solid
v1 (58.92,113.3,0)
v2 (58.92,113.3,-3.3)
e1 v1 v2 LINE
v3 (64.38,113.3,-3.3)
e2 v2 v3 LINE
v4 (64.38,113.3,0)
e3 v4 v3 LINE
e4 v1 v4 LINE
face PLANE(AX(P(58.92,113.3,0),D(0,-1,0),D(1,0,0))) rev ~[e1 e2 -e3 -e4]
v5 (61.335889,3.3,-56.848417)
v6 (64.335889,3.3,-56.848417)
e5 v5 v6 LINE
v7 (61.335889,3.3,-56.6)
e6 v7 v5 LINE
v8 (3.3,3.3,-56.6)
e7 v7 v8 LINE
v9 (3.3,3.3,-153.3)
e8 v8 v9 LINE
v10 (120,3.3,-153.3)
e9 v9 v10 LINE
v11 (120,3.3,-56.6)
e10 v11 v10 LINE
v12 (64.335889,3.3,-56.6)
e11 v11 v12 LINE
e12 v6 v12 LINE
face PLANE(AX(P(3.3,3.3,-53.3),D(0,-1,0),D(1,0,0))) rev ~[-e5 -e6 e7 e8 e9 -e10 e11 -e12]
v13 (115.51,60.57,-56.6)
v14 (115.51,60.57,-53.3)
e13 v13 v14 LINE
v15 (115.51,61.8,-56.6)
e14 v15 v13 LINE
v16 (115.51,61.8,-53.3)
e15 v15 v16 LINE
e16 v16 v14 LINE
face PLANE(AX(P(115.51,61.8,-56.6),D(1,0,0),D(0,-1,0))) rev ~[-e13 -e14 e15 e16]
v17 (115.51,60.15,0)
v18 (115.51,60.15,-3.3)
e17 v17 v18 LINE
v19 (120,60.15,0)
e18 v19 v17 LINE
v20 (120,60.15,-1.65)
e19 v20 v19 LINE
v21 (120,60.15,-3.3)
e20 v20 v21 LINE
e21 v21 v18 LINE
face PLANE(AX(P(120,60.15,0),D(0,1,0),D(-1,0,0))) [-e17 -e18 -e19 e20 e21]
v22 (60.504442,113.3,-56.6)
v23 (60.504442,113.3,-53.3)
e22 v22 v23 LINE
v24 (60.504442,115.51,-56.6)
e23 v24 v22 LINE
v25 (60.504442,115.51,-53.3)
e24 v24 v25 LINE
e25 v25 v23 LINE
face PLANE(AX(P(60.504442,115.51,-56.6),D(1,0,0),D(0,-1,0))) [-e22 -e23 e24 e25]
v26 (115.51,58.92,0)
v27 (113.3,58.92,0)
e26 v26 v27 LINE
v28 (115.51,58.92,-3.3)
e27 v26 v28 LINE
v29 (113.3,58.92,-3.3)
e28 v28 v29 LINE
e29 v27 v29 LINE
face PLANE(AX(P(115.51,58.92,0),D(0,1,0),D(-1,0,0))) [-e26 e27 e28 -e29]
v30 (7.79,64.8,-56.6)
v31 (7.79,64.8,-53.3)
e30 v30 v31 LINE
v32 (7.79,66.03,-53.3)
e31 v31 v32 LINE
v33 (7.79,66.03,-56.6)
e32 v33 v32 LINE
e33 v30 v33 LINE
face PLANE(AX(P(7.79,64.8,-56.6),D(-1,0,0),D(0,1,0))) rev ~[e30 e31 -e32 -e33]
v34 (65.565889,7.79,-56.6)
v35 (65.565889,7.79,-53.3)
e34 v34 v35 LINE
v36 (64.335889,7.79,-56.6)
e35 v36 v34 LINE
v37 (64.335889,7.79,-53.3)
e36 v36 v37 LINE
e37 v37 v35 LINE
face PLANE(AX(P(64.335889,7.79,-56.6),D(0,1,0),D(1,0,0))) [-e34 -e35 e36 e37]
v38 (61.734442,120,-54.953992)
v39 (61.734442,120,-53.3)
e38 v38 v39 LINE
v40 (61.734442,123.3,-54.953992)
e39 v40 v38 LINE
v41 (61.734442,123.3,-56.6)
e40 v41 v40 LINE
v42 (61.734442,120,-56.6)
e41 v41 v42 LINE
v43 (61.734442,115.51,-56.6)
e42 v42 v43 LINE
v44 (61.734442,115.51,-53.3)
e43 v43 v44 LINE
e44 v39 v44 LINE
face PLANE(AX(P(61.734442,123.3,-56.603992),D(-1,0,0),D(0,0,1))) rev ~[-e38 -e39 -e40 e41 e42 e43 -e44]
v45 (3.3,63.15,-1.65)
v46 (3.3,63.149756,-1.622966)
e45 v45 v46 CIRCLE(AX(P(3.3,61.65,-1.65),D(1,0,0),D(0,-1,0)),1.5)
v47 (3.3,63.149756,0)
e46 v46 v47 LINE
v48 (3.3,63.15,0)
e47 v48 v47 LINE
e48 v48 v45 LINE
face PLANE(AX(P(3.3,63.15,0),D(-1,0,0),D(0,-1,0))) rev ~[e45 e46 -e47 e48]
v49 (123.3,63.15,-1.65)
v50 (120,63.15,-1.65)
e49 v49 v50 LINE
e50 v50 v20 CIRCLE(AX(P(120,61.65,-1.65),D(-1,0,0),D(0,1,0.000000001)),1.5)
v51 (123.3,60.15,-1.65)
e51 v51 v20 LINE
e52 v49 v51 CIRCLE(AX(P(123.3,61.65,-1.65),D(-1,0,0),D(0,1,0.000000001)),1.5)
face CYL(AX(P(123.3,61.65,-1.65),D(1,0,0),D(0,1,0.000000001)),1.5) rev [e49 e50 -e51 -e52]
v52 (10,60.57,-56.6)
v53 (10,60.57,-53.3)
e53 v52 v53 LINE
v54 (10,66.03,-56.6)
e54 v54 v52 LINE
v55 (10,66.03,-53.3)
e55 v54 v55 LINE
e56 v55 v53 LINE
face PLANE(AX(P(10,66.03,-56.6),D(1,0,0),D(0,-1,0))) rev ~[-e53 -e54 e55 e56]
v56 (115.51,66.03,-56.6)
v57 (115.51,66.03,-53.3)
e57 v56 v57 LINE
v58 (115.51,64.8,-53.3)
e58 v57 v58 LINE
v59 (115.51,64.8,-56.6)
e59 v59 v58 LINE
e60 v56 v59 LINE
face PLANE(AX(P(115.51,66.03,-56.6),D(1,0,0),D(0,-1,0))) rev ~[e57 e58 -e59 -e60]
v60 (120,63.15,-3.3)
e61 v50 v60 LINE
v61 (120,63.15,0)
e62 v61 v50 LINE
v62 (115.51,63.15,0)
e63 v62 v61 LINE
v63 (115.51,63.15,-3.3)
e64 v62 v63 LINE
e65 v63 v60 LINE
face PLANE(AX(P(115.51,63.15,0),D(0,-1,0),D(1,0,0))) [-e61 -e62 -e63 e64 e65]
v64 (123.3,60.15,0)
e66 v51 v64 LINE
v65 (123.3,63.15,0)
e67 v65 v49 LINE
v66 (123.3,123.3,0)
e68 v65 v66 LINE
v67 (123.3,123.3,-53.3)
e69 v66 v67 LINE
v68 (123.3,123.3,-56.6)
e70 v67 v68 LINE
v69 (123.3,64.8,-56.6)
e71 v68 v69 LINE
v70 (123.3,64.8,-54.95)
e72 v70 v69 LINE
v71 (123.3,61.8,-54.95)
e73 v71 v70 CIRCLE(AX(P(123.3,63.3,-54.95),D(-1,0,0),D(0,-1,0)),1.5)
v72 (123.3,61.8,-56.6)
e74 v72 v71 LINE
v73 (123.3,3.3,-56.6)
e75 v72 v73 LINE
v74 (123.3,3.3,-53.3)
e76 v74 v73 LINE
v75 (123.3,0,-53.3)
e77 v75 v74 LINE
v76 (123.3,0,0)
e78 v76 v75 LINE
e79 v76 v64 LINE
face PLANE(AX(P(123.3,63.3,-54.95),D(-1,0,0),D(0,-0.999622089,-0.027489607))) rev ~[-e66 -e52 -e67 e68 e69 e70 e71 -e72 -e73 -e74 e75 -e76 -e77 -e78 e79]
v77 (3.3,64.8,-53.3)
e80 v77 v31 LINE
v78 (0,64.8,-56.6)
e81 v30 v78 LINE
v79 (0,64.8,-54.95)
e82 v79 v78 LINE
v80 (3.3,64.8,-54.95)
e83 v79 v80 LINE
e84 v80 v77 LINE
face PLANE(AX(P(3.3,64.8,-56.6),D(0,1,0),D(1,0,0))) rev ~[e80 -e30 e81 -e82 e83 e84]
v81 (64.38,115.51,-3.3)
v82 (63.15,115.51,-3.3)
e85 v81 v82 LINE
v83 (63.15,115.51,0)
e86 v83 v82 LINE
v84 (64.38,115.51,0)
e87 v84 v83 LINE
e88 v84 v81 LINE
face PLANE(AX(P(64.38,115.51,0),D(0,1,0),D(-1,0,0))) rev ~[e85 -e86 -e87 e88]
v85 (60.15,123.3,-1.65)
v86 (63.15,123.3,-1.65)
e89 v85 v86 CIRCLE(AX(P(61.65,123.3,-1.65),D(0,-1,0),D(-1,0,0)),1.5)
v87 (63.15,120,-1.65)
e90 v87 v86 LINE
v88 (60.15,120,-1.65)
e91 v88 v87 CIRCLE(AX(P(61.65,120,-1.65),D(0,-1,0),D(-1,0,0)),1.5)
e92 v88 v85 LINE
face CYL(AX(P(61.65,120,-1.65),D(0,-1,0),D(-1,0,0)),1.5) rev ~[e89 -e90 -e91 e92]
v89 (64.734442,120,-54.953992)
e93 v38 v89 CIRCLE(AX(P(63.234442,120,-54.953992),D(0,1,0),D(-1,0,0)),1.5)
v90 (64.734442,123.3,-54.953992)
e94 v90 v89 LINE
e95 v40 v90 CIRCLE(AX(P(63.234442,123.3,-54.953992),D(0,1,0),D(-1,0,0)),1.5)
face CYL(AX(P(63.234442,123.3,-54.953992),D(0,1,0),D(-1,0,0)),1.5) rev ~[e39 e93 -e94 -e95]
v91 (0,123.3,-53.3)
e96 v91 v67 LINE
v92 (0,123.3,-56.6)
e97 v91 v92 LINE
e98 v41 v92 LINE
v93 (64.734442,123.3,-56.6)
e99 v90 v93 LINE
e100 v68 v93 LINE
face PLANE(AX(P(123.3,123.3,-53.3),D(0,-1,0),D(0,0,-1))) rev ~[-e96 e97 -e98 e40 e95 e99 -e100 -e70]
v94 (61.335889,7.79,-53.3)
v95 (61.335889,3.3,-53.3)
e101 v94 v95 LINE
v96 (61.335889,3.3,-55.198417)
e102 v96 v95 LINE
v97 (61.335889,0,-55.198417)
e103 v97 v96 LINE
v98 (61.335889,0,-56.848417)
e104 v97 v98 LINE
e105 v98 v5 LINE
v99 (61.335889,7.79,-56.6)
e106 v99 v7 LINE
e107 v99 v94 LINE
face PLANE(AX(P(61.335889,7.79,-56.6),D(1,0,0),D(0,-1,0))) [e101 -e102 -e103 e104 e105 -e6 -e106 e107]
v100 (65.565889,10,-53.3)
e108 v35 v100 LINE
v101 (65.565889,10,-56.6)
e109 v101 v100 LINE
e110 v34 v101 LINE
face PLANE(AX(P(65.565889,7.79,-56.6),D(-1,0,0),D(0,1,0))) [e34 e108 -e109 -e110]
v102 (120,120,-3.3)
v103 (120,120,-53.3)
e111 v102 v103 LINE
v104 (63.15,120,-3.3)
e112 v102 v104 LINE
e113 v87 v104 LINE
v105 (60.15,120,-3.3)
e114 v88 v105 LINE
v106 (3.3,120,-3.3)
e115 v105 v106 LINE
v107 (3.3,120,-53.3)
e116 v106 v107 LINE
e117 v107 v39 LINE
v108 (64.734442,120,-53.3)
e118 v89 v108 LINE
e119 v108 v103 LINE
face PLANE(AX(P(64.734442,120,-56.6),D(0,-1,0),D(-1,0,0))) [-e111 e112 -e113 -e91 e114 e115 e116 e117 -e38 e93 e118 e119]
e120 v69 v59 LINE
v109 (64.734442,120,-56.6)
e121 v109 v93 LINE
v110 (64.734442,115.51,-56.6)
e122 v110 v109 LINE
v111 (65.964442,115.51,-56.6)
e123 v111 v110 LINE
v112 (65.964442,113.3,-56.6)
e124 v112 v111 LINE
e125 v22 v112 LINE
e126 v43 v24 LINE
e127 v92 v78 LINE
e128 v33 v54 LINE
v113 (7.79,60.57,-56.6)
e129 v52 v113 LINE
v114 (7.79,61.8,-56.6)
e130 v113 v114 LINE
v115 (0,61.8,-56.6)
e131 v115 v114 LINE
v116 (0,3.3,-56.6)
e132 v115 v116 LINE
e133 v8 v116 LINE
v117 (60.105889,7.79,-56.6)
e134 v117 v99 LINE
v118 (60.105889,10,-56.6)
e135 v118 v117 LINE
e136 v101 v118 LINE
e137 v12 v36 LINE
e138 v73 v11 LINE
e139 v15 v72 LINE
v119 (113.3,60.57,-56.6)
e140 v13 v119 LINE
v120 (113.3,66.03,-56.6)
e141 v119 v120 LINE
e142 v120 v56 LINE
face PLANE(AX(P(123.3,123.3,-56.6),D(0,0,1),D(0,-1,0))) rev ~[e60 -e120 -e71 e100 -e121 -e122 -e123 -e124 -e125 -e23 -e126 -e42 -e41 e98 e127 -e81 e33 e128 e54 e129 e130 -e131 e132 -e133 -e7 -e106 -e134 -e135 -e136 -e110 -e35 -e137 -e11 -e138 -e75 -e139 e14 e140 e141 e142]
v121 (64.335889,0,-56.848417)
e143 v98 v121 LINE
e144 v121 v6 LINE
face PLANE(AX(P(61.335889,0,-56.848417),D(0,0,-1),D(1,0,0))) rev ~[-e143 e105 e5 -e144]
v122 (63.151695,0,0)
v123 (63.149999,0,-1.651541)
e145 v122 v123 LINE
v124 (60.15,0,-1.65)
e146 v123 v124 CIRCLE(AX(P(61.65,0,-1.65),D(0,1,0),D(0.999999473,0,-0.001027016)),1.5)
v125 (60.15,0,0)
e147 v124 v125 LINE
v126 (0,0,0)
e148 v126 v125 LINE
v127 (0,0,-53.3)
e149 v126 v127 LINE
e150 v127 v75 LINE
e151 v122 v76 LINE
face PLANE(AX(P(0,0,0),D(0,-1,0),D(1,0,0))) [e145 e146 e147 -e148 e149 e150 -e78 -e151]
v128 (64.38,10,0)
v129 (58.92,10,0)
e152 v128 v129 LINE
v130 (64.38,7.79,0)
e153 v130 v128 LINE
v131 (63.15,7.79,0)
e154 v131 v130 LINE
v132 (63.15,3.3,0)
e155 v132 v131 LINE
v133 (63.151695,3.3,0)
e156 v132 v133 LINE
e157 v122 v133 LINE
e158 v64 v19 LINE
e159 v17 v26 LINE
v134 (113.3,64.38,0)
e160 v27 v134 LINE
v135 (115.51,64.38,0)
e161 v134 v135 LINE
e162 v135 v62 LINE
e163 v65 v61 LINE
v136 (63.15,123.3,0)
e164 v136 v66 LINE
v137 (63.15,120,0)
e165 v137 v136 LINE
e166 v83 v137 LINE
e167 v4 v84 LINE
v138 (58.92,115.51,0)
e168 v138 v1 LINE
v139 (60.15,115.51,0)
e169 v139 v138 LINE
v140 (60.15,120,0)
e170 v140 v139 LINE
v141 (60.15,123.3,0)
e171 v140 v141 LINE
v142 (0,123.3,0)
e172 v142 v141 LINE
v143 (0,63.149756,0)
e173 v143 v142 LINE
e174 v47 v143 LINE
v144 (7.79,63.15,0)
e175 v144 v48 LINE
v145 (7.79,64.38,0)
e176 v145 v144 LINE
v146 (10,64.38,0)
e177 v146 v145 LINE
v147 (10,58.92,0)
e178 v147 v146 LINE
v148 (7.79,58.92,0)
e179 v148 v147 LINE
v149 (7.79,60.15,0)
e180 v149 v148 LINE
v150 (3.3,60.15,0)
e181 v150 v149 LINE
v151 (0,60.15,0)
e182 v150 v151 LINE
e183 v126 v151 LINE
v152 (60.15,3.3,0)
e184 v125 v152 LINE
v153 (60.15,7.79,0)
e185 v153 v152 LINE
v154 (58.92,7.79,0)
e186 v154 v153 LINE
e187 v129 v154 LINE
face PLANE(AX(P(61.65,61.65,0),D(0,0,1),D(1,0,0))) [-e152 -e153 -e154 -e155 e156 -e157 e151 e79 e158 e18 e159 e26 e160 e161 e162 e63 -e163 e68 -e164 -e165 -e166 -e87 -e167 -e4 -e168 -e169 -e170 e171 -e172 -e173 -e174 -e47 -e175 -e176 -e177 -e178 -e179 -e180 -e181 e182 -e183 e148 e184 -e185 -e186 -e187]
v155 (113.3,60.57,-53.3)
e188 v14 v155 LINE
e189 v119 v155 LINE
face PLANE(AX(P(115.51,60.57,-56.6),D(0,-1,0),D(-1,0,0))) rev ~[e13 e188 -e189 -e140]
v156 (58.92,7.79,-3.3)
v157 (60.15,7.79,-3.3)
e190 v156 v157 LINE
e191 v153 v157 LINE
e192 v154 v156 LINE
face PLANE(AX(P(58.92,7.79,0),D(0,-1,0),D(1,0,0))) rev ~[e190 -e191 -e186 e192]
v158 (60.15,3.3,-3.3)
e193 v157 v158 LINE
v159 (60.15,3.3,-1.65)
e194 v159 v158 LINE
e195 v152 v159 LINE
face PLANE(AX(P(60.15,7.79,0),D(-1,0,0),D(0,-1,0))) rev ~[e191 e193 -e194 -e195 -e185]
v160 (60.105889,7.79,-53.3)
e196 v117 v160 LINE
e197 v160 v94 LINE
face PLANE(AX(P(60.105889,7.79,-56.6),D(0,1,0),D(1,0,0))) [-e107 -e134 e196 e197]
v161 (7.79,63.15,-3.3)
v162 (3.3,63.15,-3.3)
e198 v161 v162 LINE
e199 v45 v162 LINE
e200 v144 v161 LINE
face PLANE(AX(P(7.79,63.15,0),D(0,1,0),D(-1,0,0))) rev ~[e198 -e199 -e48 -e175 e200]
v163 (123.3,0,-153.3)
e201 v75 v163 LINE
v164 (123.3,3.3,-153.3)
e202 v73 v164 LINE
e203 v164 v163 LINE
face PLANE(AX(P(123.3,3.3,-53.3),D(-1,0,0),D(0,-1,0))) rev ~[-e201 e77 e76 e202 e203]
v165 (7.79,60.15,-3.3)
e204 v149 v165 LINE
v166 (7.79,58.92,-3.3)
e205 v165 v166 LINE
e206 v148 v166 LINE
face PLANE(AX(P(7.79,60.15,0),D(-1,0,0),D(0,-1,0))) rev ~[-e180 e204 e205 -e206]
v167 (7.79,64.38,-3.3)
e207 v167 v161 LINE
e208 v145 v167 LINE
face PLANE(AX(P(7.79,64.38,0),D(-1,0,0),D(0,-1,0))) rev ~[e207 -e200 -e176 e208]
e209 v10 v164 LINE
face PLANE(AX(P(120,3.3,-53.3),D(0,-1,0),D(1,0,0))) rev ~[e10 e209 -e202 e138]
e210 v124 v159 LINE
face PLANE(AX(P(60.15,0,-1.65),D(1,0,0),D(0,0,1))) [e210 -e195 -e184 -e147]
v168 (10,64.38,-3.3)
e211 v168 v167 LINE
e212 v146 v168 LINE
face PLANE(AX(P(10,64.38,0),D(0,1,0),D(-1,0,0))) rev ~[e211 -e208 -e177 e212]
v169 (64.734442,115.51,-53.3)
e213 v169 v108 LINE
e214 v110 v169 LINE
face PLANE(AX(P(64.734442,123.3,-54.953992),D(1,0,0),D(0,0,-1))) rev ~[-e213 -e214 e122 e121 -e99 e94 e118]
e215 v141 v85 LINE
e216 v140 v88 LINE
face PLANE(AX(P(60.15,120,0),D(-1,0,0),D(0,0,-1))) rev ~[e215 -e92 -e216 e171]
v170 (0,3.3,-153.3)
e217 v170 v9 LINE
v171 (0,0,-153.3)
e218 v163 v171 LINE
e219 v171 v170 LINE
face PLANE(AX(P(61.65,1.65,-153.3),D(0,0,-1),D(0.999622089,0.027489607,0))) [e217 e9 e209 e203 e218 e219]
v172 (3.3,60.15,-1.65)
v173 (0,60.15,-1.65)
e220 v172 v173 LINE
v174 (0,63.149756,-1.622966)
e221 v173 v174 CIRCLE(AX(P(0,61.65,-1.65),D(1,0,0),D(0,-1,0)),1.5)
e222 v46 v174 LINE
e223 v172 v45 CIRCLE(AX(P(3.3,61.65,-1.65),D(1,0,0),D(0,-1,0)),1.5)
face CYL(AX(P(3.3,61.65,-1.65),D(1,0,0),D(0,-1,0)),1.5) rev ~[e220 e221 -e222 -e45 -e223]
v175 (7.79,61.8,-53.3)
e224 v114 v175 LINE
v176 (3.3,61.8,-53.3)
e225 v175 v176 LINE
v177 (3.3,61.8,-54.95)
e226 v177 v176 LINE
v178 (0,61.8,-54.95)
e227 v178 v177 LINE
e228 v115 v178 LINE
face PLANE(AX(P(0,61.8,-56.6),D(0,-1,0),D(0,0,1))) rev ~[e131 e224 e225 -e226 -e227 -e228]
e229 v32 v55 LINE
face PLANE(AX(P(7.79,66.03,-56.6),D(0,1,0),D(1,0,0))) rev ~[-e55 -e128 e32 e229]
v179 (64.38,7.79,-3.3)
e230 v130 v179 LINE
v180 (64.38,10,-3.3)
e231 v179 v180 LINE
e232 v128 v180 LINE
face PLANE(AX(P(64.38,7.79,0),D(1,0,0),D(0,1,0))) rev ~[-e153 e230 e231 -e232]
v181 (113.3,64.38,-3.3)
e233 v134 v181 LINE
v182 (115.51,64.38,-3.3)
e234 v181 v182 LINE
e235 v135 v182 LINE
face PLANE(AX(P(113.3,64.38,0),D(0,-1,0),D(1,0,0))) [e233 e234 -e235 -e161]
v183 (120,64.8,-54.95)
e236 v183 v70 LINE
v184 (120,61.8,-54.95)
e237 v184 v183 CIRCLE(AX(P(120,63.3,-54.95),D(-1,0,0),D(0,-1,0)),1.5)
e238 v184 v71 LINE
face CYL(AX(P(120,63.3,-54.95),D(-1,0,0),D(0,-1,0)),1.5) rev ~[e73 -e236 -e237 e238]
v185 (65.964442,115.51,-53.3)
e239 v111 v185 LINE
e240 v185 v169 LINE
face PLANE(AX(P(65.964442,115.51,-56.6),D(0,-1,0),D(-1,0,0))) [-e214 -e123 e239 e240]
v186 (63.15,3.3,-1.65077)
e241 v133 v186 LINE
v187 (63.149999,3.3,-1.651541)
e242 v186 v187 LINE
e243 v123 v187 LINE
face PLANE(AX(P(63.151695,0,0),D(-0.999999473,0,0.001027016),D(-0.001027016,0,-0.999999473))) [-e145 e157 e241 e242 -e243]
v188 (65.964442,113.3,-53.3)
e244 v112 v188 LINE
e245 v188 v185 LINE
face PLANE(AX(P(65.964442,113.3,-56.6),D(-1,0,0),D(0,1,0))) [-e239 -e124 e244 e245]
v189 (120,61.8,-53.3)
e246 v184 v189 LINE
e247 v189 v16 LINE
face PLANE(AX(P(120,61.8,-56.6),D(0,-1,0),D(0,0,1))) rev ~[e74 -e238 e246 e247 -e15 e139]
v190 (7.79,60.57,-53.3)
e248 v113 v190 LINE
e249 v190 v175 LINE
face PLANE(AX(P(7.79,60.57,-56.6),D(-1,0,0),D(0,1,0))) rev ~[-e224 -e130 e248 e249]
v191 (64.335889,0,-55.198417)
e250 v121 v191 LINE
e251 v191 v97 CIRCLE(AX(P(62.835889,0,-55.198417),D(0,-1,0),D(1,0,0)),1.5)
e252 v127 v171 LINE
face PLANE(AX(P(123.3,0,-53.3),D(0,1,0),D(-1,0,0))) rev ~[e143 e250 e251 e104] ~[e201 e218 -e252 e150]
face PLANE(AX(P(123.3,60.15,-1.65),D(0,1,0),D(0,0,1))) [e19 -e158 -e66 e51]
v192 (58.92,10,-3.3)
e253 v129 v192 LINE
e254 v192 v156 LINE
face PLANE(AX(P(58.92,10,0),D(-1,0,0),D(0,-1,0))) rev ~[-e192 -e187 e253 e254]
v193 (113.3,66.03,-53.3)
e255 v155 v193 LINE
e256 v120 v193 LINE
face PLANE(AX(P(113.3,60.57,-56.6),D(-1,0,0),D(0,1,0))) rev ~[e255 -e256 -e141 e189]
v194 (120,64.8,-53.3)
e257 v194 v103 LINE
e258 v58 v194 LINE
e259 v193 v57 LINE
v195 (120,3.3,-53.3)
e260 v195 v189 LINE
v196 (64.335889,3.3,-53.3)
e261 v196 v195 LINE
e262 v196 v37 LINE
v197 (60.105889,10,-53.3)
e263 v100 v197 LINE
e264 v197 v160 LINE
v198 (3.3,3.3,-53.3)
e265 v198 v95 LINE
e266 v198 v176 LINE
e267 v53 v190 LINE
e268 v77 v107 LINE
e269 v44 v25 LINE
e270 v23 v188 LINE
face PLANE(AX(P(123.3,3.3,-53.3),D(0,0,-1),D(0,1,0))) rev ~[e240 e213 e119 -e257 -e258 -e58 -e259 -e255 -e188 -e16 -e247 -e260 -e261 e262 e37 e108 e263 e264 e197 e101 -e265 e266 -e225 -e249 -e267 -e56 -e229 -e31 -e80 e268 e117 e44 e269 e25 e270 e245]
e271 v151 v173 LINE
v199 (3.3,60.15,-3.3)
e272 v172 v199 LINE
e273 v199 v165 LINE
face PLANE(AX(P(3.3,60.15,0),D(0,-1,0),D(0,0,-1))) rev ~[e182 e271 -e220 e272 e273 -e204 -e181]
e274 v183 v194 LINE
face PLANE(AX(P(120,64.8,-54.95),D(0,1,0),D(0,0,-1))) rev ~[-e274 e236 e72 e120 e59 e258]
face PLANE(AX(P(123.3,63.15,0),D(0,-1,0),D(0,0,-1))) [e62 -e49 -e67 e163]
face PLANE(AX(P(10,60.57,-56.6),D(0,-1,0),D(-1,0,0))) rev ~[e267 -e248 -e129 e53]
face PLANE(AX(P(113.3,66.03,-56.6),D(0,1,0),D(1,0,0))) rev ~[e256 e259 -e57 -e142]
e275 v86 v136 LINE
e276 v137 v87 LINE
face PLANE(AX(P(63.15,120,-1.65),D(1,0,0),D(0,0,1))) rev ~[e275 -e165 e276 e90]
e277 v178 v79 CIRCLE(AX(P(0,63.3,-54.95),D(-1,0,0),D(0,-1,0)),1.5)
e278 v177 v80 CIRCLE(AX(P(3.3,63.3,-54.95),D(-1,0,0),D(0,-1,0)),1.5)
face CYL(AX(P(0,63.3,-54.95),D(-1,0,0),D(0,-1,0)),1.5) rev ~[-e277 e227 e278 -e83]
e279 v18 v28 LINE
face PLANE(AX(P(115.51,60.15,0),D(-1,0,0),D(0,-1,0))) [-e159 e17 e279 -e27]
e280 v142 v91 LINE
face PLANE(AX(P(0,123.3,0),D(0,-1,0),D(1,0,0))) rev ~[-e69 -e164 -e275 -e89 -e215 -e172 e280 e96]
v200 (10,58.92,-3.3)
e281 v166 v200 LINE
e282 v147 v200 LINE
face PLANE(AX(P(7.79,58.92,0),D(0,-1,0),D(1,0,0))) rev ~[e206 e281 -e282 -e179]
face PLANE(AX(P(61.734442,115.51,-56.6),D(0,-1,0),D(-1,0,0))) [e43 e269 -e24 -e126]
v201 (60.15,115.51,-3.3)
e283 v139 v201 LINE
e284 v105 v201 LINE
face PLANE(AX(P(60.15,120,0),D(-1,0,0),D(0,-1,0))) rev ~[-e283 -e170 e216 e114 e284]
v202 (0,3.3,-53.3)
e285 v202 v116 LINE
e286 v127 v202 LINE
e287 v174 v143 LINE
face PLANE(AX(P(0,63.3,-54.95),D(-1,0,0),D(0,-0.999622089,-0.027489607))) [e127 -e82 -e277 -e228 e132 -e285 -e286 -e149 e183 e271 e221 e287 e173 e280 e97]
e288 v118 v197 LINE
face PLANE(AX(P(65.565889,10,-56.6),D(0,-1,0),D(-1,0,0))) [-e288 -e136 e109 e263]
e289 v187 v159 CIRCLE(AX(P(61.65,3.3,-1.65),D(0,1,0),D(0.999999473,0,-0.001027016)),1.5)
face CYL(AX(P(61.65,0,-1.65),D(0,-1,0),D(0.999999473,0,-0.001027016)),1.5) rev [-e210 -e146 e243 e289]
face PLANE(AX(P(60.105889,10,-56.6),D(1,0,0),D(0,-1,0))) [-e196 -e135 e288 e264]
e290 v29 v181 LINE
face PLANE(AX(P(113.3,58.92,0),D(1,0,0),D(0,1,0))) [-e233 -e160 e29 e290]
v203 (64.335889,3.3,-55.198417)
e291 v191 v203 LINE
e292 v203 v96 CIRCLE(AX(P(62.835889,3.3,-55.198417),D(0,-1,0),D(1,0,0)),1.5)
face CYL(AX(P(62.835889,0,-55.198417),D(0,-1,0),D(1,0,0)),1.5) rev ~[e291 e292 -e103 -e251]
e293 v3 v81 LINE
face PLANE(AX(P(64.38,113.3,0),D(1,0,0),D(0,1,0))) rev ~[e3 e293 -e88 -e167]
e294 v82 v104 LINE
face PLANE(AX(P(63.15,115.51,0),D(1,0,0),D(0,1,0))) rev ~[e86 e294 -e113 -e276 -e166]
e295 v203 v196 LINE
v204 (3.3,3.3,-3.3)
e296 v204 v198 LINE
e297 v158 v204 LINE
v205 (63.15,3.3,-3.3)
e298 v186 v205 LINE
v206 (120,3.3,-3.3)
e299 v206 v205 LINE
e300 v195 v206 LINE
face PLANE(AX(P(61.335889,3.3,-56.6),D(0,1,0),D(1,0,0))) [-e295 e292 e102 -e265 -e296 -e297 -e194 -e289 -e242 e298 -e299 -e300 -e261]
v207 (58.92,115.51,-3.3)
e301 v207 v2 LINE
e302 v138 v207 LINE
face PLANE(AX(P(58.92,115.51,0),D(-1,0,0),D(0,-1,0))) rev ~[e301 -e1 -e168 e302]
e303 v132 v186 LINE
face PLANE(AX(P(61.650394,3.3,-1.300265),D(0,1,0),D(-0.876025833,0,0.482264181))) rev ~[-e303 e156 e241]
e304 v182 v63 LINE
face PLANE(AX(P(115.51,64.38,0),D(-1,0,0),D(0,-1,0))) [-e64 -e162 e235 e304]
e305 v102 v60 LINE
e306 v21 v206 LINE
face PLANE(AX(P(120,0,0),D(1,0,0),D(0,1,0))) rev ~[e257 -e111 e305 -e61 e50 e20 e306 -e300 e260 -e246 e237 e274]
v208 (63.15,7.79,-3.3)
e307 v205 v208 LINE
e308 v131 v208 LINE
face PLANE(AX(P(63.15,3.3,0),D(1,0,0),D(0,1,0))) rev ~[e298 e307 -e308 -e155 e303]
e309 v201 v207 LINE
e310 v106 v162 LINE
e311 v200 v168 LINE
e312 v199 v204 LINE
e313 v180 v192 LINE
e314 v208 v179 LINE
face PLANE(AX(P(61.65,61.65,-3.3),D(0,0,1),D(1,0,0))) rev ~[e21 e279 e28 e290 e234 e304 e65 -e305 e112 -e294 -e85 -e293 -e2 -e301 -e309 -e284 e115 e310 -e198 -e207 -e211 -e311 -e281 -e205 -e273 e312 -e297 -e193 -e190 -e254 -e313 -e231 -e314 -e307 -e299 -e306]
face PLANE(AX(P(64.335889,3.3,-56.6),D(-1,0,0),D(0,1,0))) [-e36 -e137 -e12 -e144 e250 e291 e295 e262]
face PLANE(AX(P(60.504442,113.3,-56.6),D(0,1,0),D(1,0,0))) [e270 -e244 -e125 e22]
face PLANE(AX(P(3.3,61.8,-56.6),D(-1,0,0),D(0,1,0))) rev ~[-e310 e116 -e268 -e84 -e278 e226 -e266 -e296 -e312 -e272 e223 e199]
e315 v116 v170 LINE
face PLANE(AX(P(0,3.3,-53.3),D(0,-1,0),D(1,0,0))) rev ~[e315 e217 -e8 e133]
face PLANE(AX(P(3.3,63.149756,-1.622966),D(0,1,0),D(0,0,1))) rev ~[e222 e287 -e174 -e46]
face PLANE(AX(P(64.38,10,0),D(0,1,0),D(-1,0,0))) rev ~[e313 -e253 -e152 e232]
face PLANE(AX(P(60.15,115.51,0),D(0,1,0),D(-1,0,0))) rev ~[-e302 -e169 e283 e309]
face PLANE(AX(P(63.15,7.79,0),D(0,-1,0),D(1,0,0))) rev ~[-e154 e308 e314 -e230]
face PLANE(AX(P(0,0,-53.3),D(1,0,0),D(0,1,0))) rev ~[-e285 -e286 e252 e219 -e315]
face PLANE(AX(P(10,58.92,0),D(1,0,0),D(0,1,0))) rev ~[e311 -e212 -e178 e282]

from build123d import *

# Parameters (mm, degrees)
SCHIZZO2_W                   = 123.3
SCHIZZO2_H                   = 123.3
ESTRUSIONE_ESTRUSIONE2_DEPTH = 53.3
SVUOTA1_T                    = -3.3
TAGLIO_ESTRUSIONE2_DEPTH     = 3.3
TAGLIO_ESTRUSIONE6_DEPTH     = 3.3
TAGLIO_ESTRUSIONE7_START     = 3.3
TAGLIO_ESTRUSIONE7_DEPTH     = 3.3
TAGLIO_ESTRUSIONE8_DEPTH     = 3.3
TAGLIO_ESTRUSIONE9_START     = -3.3
TAGLIO_ESTRUSIONE9_DEPTH     = 3.3
ESTRUSIONE_ESTRUSIONE5_DEPTH = 100
ESTRUSIONE_ESTRUSIONE7_DEPTH = 123.3
TAGLIO_ESTRUSIONE19_DEPTH    = 3.3
TAGLIO_ESTRUSIONE20_DEPTH    = 3.3
TAGLIO_ESTRUSIONE21_START    = -3.3
TAGLIO_ESTRUSIONE21_DEPTH    = 3.3
TAGLIO_ESTRUSIONE22_DEPTH    = 3.3
TAGLIO_ESTRUSIONE23_DEPTH    = 3.3
TAGLIO_ESTRUSIONE24_DEPTH    = 3.3


with BuildPart() as part:
    # Schizzo2 → Estrusione-Estrusione2 (new body)
    with BuildSketch(Plane.XY):
        with Locations((61.65, 61.65)):
            Rectangle(SCHIZZO2_W, SCHIZZO2_H)
    extrude(amount=-ESTRUSIONE_ESTRUSIONE2_DEPTH)

    # Svuota1
    svuota1_openings = [part.faces().sort_by_distance(p)[0] for p in [
        (61.65, 61.65, -53.3),
    ]]
    offset(amount=SVUOTA1_T, openings=svuota1_openings, kind=Kind.INTERSECTION)

    # Schizzo3D1 → Taglio-Estrusione2 (cut)
    with BuildSketch(Plane(origin=(123.3, 60.15, -1.65), x_dir=(0, 0.8762159086766463, 0.48191874977215726), z_dir=(1, 0, 0))):
        with BuildLine():
            Line((0, 0), (0.795165937, 1.445756249))
            Line((0.795165937, 1.445756249), (3.423813663, 0))
            Line((3.423813663, 0), (2.628647726, -1.445756249))
            ThreePointArc((2.628647726, -1.445756249), (0.591445738, -2.037201988), (0, 0))
        make_face()
    extrude(amount=-TAGLIO_ESTRUSIONE2_DEPTH, mode=Mode.SUBTRACT)

    # Schizzo6 → Taglio-Estrusione6 (cut)
    with BuildSketch(Plane.XY):
        Polygon((120, 60.15), (115.51, 60.15), (115.51, 58.92), (113.3, 58.92), (113.3, 64.38), (115.51, 64.38), (115.51, 63.15), (120, 63.15), align=None)
        Polygon((3.3, 63.15), (3.3, 60.15), (7.79, 60.15), (7.79, 58.92), (10, 58.92), (10, 64.38), (7.79, 64.38), (7.79, 63.15), align=None)
        Polygon((60.15, 3.3), (63.15, 3.3), (63.15, 7.79), (64.38, 7.79), (64.38, 10), (58.92, 10), (58.92, 7.79), (60.15, 7.79), align=None)
        Polygon((63.15, 120), (60.15, 120), (60.15, 115.51), (58.92, 115.51), (58.92, 113.3), (64.38, 113.3), (64.38, 115.51), (63.15, 115.51), align=None)
    extrude(amount=-TAGLIO_ESTRUSIONE6_DEPTH, mode=Mode.SUBTRACT)

    # Schizzo3D6 → Taglio-Estrusione7 (cut)
    with BuildSketch(Plane(origin=(0, 61.65, 0), x_dir=(0, -0.6726727939963129, -0.7399400733959435), z_dir=(1, 0, 0)).offset(TAGLIO_ESTRUSIONE7_START)):
        with BuildLine():
            Line((0, 0), (1.009009191, -1.10991011))
            Line((1.009009191, -1.10991011), (2.229910312, 0))
            ThreePointArc((2.229910312, 0), (2.321673153, 2.128880637), (0.192052014, 2.201454665))
            Line((0.192052014, 2.201454665), (-1.008845302, 1.109729832))
            Line((-1.008845302, 1.109729832), (0, 0))
        make_face()
    extrude(amount=-TAGLIO_ESTRUSIONE7_DEPTH, mode=Mode.SUBTRACT)

    # Schizzo3D7 → Taglio-Estrusione8 (cut)
    with BuildSketch(Plane(origin=(60.15, 0, 0), x_dir=(0.8760258326495893, 2.026216235651821e-15, -0.48226418126437076), z_dir=(0, -1, 0))):
        with BuildLine():
            Line((0, 0), (2.629562684, 1.447610159))
            Line((2.629562684, 1.447610159), (3.424555643, 0))
            ThreePointArc((3.424555643, 0), (2.832496055, -2.036456397), (0.795735899, -1.445442624))
            Line((0.795735899, -1.445442624), (0, 0))
        make_face()
    extrude(amount=-TAGLIO_ESTRUSIONE8_DEPTH, mode=Mode.SUBTRACT)

    # Schizzo3D8 → Taglio-Estrusione9 (cut)
    with BuildSketch(Plane(origin=(63.15, 123.3, 0), x_dir=(-0.8762159086766472, 0, -0.48191874977215554), z_dir=(0, 1, 0)).offset(TAGLIO_ESTRUSIONE9_START)):
        with BuildLine():
            Line((0, 0), (2.628647726, 1.445756249))
            Line((2.628647726, 1.445756249), (3.423813663, 0))
            ThreePointArc((3.423813663, 0), (2.832367925, -2.037201988), (0.795165937, -1.445756249))
            Line((0.795165937, -1.445756249), (0, 0))
        make_face()
    extrude(amount=TAGLIO_ESTRUSIONE9_DEPTH, mode=Mode.SUBTRACT)

    # Schizzo3D9 → Estrusione-Estrusione5 (add)
    with BuildSketch(Plane(origin=(120, 3.3, -53.3), x_dir=(-0.9996220893327035, -0.02748960745664935, 0), z_dir=(0, 0, 1))):
        Polygon((0, 0), (-3.298752895, 0.090715705), (-3.20803719, 3.389468599), (120.045366425, 0), (119.95465072, -3.298752895), (116.655897825, -3.20803719), align=None)
    extrude(amount=-ESTRUSIONE_ESTRUSIONE5_DEPTH)

    # Schizzo3D10 → Estrusione-Estrusione7 (add)
    with BuildSketch(Plane(origin=(123.3, 123.3, -53.3), x_dir=(0, -0.9996220893327035, -0.027489607456649322), z_dir=(-1, 0, 0))):
        Polygon((0, 0), (0.090715705, -3.298752895), (120.045366425, 0), (119.95465072, 3.298752895), align=None)
    extrude(amount=ESTRUSIONE_ESTRUSIONE7_DEPTH)

    # Schizzo14 → Taglio-Estrusione19 (cut)
    with BuildSketch(Plane.ZY):
        with BuildLine():
            Line((-56.6, 64.8), (-56.6, 61.8))
            Line((-56.6, 61.8), (-54.95, 61.8))
            ThreePointArc((-54.95, 61.8), (-53.45, 63.3), (-54.95, 64.8))
            Line((-54.95, 64.8), (-56.6, 64.8))
        make_face()
    extrude(amount=-TAGLIO_ESTRUSIONE19_DEPTH, mode=Mode.SUBTRACT)

    # Schizzo21 → Taglio-Estrusione20 (cut)
    with BuildSketch(Plane(origin=(0, 0, 0), x_dir=(-1, 0, 0), z_dir=(0, -1, 0))):
        with BuildLine():
            Line((-64.335889046, 56.848416793), (-64.335889046, 55.198416793))
            ThreePointArc((-64.335889046, 55.198416793), (-62.835889046, 53.698416793), (-61.335889046, 55.198416793))
            Line((-61.335889046, 55.198416793), (-61.335889046, 56.848416793))
            Line((-61.335889046, 56.848416793), (-64.335889046, 56.848416793))
        make_face()
    extrude(amount=-TAGLIO_ESTRUSIONE20_DEPTH, mode=Mode.SUBTRACT)

    # Schizzo17 → Taglio-Estrusione21 (cut)
    with BuildSketch(Plane(origin=(123.3, 0, 0), x_dir=(0, 0, -1), z_dir=(1, 0, 0)).offset(TAGLIO_ESTRUSIONE21_START)):
        with BuildLine():
            Line((56.6, 64.8), (56.6, 61.8))
            Line((56.6, 61.8), (54.95, 61.8))
            ThreePointArc((54.95, 61.8), (53.45, 63.3), (54.95, 64.8))
            Line((54.95, 64.8), (56.6, 64.8))
        make_face()
    extrude(amount=TAGLIO_ESTRUSIONE21_DEPTH, mode=Mode.SUBTRACT)

    # Schizzo24 → Taglio-Estrusione22 (cut)
    with BuildSketch(Plane(origin=(0, 123.3, 0), x_dir=(1, 0, 0), z_dir=(0, 1, 0))):
        with BuildLine():
            Line((61.734441738, 56.603992056), (61.734441738, 54.953992056))
            ThreePointArc((61.734441738, 54.953992056), (63.234441738, 53.453992056), (64.734441738, 54.953992056))
            Line((64.734441738, 54.953992056), (64.734441738, 56.603992056))
            Line((64.734441738, 56.603992056), (61.734441738, 56.603992056))
        make_face()
    extrude(amount=-TAGLIO_ESTRUSIONE22_DEPTH, mode=Mode.SUBTRACT)

    # Schizzo26 → Taglio-Estrusione23 (cut)
    with BuildSketch(Plane(origin=(0, 0, -56.6), x_dir=(-1, 0, 0), z_dir=(0, 0, -1))):
        Polygon((-61.734441738, 120), (-61.734441738, 115.51), (-60.504441738, 115.51), (-60.504441738, 113.3), (-65.964441738, 113.3), (-65.964441738, 115.51), (-64.734441738, 115.51), (-64.734441738, 120), align=None)
    extrude(amount=-TAGLIO_ESTRUSIONE23_DEPTH, mode=Mode.SUBTRACT)

    # Schizzo28 → Taglio-Estrusione24 (cut)
    with BuildSketch(Plane(origin=(0, 0, -56.6), x_dir=(-1, 0, 0), z_dir=(0, 0, -1))):
        Polygon((-120, 61.8), (-115.51, 61.8), (-115.51, 60.57), (-113.3, 60.57), (-113.3, 66.03), (-115.51, 66.03), (-115.51, 64.8), (-120, 64.8), align=None)
        Polygon((-3.3, 64.8), (-7.79, 64.8), (-7.79, 66.03), (-10, 66.03), (-10, 60.57), (-7.79, 60.57), (-7.79, 61.8), (-3.3, 61.8), align=None)
        Polygon((-64.335889046, 3.3), (-64.335889046, 7.79), (-65.565889046, 7.79), (-65.565889046, 10), (-60.105889046, 10), (-60.105889046, 7.79), (-61.335889046, 7.79), (-61.335889046, 3.3), align=None)
    extrude(amount=-TAGLIO_ESTRUSIONE24_DEPTH, mode=Mode.SUBTRACT)


solid = part.part
